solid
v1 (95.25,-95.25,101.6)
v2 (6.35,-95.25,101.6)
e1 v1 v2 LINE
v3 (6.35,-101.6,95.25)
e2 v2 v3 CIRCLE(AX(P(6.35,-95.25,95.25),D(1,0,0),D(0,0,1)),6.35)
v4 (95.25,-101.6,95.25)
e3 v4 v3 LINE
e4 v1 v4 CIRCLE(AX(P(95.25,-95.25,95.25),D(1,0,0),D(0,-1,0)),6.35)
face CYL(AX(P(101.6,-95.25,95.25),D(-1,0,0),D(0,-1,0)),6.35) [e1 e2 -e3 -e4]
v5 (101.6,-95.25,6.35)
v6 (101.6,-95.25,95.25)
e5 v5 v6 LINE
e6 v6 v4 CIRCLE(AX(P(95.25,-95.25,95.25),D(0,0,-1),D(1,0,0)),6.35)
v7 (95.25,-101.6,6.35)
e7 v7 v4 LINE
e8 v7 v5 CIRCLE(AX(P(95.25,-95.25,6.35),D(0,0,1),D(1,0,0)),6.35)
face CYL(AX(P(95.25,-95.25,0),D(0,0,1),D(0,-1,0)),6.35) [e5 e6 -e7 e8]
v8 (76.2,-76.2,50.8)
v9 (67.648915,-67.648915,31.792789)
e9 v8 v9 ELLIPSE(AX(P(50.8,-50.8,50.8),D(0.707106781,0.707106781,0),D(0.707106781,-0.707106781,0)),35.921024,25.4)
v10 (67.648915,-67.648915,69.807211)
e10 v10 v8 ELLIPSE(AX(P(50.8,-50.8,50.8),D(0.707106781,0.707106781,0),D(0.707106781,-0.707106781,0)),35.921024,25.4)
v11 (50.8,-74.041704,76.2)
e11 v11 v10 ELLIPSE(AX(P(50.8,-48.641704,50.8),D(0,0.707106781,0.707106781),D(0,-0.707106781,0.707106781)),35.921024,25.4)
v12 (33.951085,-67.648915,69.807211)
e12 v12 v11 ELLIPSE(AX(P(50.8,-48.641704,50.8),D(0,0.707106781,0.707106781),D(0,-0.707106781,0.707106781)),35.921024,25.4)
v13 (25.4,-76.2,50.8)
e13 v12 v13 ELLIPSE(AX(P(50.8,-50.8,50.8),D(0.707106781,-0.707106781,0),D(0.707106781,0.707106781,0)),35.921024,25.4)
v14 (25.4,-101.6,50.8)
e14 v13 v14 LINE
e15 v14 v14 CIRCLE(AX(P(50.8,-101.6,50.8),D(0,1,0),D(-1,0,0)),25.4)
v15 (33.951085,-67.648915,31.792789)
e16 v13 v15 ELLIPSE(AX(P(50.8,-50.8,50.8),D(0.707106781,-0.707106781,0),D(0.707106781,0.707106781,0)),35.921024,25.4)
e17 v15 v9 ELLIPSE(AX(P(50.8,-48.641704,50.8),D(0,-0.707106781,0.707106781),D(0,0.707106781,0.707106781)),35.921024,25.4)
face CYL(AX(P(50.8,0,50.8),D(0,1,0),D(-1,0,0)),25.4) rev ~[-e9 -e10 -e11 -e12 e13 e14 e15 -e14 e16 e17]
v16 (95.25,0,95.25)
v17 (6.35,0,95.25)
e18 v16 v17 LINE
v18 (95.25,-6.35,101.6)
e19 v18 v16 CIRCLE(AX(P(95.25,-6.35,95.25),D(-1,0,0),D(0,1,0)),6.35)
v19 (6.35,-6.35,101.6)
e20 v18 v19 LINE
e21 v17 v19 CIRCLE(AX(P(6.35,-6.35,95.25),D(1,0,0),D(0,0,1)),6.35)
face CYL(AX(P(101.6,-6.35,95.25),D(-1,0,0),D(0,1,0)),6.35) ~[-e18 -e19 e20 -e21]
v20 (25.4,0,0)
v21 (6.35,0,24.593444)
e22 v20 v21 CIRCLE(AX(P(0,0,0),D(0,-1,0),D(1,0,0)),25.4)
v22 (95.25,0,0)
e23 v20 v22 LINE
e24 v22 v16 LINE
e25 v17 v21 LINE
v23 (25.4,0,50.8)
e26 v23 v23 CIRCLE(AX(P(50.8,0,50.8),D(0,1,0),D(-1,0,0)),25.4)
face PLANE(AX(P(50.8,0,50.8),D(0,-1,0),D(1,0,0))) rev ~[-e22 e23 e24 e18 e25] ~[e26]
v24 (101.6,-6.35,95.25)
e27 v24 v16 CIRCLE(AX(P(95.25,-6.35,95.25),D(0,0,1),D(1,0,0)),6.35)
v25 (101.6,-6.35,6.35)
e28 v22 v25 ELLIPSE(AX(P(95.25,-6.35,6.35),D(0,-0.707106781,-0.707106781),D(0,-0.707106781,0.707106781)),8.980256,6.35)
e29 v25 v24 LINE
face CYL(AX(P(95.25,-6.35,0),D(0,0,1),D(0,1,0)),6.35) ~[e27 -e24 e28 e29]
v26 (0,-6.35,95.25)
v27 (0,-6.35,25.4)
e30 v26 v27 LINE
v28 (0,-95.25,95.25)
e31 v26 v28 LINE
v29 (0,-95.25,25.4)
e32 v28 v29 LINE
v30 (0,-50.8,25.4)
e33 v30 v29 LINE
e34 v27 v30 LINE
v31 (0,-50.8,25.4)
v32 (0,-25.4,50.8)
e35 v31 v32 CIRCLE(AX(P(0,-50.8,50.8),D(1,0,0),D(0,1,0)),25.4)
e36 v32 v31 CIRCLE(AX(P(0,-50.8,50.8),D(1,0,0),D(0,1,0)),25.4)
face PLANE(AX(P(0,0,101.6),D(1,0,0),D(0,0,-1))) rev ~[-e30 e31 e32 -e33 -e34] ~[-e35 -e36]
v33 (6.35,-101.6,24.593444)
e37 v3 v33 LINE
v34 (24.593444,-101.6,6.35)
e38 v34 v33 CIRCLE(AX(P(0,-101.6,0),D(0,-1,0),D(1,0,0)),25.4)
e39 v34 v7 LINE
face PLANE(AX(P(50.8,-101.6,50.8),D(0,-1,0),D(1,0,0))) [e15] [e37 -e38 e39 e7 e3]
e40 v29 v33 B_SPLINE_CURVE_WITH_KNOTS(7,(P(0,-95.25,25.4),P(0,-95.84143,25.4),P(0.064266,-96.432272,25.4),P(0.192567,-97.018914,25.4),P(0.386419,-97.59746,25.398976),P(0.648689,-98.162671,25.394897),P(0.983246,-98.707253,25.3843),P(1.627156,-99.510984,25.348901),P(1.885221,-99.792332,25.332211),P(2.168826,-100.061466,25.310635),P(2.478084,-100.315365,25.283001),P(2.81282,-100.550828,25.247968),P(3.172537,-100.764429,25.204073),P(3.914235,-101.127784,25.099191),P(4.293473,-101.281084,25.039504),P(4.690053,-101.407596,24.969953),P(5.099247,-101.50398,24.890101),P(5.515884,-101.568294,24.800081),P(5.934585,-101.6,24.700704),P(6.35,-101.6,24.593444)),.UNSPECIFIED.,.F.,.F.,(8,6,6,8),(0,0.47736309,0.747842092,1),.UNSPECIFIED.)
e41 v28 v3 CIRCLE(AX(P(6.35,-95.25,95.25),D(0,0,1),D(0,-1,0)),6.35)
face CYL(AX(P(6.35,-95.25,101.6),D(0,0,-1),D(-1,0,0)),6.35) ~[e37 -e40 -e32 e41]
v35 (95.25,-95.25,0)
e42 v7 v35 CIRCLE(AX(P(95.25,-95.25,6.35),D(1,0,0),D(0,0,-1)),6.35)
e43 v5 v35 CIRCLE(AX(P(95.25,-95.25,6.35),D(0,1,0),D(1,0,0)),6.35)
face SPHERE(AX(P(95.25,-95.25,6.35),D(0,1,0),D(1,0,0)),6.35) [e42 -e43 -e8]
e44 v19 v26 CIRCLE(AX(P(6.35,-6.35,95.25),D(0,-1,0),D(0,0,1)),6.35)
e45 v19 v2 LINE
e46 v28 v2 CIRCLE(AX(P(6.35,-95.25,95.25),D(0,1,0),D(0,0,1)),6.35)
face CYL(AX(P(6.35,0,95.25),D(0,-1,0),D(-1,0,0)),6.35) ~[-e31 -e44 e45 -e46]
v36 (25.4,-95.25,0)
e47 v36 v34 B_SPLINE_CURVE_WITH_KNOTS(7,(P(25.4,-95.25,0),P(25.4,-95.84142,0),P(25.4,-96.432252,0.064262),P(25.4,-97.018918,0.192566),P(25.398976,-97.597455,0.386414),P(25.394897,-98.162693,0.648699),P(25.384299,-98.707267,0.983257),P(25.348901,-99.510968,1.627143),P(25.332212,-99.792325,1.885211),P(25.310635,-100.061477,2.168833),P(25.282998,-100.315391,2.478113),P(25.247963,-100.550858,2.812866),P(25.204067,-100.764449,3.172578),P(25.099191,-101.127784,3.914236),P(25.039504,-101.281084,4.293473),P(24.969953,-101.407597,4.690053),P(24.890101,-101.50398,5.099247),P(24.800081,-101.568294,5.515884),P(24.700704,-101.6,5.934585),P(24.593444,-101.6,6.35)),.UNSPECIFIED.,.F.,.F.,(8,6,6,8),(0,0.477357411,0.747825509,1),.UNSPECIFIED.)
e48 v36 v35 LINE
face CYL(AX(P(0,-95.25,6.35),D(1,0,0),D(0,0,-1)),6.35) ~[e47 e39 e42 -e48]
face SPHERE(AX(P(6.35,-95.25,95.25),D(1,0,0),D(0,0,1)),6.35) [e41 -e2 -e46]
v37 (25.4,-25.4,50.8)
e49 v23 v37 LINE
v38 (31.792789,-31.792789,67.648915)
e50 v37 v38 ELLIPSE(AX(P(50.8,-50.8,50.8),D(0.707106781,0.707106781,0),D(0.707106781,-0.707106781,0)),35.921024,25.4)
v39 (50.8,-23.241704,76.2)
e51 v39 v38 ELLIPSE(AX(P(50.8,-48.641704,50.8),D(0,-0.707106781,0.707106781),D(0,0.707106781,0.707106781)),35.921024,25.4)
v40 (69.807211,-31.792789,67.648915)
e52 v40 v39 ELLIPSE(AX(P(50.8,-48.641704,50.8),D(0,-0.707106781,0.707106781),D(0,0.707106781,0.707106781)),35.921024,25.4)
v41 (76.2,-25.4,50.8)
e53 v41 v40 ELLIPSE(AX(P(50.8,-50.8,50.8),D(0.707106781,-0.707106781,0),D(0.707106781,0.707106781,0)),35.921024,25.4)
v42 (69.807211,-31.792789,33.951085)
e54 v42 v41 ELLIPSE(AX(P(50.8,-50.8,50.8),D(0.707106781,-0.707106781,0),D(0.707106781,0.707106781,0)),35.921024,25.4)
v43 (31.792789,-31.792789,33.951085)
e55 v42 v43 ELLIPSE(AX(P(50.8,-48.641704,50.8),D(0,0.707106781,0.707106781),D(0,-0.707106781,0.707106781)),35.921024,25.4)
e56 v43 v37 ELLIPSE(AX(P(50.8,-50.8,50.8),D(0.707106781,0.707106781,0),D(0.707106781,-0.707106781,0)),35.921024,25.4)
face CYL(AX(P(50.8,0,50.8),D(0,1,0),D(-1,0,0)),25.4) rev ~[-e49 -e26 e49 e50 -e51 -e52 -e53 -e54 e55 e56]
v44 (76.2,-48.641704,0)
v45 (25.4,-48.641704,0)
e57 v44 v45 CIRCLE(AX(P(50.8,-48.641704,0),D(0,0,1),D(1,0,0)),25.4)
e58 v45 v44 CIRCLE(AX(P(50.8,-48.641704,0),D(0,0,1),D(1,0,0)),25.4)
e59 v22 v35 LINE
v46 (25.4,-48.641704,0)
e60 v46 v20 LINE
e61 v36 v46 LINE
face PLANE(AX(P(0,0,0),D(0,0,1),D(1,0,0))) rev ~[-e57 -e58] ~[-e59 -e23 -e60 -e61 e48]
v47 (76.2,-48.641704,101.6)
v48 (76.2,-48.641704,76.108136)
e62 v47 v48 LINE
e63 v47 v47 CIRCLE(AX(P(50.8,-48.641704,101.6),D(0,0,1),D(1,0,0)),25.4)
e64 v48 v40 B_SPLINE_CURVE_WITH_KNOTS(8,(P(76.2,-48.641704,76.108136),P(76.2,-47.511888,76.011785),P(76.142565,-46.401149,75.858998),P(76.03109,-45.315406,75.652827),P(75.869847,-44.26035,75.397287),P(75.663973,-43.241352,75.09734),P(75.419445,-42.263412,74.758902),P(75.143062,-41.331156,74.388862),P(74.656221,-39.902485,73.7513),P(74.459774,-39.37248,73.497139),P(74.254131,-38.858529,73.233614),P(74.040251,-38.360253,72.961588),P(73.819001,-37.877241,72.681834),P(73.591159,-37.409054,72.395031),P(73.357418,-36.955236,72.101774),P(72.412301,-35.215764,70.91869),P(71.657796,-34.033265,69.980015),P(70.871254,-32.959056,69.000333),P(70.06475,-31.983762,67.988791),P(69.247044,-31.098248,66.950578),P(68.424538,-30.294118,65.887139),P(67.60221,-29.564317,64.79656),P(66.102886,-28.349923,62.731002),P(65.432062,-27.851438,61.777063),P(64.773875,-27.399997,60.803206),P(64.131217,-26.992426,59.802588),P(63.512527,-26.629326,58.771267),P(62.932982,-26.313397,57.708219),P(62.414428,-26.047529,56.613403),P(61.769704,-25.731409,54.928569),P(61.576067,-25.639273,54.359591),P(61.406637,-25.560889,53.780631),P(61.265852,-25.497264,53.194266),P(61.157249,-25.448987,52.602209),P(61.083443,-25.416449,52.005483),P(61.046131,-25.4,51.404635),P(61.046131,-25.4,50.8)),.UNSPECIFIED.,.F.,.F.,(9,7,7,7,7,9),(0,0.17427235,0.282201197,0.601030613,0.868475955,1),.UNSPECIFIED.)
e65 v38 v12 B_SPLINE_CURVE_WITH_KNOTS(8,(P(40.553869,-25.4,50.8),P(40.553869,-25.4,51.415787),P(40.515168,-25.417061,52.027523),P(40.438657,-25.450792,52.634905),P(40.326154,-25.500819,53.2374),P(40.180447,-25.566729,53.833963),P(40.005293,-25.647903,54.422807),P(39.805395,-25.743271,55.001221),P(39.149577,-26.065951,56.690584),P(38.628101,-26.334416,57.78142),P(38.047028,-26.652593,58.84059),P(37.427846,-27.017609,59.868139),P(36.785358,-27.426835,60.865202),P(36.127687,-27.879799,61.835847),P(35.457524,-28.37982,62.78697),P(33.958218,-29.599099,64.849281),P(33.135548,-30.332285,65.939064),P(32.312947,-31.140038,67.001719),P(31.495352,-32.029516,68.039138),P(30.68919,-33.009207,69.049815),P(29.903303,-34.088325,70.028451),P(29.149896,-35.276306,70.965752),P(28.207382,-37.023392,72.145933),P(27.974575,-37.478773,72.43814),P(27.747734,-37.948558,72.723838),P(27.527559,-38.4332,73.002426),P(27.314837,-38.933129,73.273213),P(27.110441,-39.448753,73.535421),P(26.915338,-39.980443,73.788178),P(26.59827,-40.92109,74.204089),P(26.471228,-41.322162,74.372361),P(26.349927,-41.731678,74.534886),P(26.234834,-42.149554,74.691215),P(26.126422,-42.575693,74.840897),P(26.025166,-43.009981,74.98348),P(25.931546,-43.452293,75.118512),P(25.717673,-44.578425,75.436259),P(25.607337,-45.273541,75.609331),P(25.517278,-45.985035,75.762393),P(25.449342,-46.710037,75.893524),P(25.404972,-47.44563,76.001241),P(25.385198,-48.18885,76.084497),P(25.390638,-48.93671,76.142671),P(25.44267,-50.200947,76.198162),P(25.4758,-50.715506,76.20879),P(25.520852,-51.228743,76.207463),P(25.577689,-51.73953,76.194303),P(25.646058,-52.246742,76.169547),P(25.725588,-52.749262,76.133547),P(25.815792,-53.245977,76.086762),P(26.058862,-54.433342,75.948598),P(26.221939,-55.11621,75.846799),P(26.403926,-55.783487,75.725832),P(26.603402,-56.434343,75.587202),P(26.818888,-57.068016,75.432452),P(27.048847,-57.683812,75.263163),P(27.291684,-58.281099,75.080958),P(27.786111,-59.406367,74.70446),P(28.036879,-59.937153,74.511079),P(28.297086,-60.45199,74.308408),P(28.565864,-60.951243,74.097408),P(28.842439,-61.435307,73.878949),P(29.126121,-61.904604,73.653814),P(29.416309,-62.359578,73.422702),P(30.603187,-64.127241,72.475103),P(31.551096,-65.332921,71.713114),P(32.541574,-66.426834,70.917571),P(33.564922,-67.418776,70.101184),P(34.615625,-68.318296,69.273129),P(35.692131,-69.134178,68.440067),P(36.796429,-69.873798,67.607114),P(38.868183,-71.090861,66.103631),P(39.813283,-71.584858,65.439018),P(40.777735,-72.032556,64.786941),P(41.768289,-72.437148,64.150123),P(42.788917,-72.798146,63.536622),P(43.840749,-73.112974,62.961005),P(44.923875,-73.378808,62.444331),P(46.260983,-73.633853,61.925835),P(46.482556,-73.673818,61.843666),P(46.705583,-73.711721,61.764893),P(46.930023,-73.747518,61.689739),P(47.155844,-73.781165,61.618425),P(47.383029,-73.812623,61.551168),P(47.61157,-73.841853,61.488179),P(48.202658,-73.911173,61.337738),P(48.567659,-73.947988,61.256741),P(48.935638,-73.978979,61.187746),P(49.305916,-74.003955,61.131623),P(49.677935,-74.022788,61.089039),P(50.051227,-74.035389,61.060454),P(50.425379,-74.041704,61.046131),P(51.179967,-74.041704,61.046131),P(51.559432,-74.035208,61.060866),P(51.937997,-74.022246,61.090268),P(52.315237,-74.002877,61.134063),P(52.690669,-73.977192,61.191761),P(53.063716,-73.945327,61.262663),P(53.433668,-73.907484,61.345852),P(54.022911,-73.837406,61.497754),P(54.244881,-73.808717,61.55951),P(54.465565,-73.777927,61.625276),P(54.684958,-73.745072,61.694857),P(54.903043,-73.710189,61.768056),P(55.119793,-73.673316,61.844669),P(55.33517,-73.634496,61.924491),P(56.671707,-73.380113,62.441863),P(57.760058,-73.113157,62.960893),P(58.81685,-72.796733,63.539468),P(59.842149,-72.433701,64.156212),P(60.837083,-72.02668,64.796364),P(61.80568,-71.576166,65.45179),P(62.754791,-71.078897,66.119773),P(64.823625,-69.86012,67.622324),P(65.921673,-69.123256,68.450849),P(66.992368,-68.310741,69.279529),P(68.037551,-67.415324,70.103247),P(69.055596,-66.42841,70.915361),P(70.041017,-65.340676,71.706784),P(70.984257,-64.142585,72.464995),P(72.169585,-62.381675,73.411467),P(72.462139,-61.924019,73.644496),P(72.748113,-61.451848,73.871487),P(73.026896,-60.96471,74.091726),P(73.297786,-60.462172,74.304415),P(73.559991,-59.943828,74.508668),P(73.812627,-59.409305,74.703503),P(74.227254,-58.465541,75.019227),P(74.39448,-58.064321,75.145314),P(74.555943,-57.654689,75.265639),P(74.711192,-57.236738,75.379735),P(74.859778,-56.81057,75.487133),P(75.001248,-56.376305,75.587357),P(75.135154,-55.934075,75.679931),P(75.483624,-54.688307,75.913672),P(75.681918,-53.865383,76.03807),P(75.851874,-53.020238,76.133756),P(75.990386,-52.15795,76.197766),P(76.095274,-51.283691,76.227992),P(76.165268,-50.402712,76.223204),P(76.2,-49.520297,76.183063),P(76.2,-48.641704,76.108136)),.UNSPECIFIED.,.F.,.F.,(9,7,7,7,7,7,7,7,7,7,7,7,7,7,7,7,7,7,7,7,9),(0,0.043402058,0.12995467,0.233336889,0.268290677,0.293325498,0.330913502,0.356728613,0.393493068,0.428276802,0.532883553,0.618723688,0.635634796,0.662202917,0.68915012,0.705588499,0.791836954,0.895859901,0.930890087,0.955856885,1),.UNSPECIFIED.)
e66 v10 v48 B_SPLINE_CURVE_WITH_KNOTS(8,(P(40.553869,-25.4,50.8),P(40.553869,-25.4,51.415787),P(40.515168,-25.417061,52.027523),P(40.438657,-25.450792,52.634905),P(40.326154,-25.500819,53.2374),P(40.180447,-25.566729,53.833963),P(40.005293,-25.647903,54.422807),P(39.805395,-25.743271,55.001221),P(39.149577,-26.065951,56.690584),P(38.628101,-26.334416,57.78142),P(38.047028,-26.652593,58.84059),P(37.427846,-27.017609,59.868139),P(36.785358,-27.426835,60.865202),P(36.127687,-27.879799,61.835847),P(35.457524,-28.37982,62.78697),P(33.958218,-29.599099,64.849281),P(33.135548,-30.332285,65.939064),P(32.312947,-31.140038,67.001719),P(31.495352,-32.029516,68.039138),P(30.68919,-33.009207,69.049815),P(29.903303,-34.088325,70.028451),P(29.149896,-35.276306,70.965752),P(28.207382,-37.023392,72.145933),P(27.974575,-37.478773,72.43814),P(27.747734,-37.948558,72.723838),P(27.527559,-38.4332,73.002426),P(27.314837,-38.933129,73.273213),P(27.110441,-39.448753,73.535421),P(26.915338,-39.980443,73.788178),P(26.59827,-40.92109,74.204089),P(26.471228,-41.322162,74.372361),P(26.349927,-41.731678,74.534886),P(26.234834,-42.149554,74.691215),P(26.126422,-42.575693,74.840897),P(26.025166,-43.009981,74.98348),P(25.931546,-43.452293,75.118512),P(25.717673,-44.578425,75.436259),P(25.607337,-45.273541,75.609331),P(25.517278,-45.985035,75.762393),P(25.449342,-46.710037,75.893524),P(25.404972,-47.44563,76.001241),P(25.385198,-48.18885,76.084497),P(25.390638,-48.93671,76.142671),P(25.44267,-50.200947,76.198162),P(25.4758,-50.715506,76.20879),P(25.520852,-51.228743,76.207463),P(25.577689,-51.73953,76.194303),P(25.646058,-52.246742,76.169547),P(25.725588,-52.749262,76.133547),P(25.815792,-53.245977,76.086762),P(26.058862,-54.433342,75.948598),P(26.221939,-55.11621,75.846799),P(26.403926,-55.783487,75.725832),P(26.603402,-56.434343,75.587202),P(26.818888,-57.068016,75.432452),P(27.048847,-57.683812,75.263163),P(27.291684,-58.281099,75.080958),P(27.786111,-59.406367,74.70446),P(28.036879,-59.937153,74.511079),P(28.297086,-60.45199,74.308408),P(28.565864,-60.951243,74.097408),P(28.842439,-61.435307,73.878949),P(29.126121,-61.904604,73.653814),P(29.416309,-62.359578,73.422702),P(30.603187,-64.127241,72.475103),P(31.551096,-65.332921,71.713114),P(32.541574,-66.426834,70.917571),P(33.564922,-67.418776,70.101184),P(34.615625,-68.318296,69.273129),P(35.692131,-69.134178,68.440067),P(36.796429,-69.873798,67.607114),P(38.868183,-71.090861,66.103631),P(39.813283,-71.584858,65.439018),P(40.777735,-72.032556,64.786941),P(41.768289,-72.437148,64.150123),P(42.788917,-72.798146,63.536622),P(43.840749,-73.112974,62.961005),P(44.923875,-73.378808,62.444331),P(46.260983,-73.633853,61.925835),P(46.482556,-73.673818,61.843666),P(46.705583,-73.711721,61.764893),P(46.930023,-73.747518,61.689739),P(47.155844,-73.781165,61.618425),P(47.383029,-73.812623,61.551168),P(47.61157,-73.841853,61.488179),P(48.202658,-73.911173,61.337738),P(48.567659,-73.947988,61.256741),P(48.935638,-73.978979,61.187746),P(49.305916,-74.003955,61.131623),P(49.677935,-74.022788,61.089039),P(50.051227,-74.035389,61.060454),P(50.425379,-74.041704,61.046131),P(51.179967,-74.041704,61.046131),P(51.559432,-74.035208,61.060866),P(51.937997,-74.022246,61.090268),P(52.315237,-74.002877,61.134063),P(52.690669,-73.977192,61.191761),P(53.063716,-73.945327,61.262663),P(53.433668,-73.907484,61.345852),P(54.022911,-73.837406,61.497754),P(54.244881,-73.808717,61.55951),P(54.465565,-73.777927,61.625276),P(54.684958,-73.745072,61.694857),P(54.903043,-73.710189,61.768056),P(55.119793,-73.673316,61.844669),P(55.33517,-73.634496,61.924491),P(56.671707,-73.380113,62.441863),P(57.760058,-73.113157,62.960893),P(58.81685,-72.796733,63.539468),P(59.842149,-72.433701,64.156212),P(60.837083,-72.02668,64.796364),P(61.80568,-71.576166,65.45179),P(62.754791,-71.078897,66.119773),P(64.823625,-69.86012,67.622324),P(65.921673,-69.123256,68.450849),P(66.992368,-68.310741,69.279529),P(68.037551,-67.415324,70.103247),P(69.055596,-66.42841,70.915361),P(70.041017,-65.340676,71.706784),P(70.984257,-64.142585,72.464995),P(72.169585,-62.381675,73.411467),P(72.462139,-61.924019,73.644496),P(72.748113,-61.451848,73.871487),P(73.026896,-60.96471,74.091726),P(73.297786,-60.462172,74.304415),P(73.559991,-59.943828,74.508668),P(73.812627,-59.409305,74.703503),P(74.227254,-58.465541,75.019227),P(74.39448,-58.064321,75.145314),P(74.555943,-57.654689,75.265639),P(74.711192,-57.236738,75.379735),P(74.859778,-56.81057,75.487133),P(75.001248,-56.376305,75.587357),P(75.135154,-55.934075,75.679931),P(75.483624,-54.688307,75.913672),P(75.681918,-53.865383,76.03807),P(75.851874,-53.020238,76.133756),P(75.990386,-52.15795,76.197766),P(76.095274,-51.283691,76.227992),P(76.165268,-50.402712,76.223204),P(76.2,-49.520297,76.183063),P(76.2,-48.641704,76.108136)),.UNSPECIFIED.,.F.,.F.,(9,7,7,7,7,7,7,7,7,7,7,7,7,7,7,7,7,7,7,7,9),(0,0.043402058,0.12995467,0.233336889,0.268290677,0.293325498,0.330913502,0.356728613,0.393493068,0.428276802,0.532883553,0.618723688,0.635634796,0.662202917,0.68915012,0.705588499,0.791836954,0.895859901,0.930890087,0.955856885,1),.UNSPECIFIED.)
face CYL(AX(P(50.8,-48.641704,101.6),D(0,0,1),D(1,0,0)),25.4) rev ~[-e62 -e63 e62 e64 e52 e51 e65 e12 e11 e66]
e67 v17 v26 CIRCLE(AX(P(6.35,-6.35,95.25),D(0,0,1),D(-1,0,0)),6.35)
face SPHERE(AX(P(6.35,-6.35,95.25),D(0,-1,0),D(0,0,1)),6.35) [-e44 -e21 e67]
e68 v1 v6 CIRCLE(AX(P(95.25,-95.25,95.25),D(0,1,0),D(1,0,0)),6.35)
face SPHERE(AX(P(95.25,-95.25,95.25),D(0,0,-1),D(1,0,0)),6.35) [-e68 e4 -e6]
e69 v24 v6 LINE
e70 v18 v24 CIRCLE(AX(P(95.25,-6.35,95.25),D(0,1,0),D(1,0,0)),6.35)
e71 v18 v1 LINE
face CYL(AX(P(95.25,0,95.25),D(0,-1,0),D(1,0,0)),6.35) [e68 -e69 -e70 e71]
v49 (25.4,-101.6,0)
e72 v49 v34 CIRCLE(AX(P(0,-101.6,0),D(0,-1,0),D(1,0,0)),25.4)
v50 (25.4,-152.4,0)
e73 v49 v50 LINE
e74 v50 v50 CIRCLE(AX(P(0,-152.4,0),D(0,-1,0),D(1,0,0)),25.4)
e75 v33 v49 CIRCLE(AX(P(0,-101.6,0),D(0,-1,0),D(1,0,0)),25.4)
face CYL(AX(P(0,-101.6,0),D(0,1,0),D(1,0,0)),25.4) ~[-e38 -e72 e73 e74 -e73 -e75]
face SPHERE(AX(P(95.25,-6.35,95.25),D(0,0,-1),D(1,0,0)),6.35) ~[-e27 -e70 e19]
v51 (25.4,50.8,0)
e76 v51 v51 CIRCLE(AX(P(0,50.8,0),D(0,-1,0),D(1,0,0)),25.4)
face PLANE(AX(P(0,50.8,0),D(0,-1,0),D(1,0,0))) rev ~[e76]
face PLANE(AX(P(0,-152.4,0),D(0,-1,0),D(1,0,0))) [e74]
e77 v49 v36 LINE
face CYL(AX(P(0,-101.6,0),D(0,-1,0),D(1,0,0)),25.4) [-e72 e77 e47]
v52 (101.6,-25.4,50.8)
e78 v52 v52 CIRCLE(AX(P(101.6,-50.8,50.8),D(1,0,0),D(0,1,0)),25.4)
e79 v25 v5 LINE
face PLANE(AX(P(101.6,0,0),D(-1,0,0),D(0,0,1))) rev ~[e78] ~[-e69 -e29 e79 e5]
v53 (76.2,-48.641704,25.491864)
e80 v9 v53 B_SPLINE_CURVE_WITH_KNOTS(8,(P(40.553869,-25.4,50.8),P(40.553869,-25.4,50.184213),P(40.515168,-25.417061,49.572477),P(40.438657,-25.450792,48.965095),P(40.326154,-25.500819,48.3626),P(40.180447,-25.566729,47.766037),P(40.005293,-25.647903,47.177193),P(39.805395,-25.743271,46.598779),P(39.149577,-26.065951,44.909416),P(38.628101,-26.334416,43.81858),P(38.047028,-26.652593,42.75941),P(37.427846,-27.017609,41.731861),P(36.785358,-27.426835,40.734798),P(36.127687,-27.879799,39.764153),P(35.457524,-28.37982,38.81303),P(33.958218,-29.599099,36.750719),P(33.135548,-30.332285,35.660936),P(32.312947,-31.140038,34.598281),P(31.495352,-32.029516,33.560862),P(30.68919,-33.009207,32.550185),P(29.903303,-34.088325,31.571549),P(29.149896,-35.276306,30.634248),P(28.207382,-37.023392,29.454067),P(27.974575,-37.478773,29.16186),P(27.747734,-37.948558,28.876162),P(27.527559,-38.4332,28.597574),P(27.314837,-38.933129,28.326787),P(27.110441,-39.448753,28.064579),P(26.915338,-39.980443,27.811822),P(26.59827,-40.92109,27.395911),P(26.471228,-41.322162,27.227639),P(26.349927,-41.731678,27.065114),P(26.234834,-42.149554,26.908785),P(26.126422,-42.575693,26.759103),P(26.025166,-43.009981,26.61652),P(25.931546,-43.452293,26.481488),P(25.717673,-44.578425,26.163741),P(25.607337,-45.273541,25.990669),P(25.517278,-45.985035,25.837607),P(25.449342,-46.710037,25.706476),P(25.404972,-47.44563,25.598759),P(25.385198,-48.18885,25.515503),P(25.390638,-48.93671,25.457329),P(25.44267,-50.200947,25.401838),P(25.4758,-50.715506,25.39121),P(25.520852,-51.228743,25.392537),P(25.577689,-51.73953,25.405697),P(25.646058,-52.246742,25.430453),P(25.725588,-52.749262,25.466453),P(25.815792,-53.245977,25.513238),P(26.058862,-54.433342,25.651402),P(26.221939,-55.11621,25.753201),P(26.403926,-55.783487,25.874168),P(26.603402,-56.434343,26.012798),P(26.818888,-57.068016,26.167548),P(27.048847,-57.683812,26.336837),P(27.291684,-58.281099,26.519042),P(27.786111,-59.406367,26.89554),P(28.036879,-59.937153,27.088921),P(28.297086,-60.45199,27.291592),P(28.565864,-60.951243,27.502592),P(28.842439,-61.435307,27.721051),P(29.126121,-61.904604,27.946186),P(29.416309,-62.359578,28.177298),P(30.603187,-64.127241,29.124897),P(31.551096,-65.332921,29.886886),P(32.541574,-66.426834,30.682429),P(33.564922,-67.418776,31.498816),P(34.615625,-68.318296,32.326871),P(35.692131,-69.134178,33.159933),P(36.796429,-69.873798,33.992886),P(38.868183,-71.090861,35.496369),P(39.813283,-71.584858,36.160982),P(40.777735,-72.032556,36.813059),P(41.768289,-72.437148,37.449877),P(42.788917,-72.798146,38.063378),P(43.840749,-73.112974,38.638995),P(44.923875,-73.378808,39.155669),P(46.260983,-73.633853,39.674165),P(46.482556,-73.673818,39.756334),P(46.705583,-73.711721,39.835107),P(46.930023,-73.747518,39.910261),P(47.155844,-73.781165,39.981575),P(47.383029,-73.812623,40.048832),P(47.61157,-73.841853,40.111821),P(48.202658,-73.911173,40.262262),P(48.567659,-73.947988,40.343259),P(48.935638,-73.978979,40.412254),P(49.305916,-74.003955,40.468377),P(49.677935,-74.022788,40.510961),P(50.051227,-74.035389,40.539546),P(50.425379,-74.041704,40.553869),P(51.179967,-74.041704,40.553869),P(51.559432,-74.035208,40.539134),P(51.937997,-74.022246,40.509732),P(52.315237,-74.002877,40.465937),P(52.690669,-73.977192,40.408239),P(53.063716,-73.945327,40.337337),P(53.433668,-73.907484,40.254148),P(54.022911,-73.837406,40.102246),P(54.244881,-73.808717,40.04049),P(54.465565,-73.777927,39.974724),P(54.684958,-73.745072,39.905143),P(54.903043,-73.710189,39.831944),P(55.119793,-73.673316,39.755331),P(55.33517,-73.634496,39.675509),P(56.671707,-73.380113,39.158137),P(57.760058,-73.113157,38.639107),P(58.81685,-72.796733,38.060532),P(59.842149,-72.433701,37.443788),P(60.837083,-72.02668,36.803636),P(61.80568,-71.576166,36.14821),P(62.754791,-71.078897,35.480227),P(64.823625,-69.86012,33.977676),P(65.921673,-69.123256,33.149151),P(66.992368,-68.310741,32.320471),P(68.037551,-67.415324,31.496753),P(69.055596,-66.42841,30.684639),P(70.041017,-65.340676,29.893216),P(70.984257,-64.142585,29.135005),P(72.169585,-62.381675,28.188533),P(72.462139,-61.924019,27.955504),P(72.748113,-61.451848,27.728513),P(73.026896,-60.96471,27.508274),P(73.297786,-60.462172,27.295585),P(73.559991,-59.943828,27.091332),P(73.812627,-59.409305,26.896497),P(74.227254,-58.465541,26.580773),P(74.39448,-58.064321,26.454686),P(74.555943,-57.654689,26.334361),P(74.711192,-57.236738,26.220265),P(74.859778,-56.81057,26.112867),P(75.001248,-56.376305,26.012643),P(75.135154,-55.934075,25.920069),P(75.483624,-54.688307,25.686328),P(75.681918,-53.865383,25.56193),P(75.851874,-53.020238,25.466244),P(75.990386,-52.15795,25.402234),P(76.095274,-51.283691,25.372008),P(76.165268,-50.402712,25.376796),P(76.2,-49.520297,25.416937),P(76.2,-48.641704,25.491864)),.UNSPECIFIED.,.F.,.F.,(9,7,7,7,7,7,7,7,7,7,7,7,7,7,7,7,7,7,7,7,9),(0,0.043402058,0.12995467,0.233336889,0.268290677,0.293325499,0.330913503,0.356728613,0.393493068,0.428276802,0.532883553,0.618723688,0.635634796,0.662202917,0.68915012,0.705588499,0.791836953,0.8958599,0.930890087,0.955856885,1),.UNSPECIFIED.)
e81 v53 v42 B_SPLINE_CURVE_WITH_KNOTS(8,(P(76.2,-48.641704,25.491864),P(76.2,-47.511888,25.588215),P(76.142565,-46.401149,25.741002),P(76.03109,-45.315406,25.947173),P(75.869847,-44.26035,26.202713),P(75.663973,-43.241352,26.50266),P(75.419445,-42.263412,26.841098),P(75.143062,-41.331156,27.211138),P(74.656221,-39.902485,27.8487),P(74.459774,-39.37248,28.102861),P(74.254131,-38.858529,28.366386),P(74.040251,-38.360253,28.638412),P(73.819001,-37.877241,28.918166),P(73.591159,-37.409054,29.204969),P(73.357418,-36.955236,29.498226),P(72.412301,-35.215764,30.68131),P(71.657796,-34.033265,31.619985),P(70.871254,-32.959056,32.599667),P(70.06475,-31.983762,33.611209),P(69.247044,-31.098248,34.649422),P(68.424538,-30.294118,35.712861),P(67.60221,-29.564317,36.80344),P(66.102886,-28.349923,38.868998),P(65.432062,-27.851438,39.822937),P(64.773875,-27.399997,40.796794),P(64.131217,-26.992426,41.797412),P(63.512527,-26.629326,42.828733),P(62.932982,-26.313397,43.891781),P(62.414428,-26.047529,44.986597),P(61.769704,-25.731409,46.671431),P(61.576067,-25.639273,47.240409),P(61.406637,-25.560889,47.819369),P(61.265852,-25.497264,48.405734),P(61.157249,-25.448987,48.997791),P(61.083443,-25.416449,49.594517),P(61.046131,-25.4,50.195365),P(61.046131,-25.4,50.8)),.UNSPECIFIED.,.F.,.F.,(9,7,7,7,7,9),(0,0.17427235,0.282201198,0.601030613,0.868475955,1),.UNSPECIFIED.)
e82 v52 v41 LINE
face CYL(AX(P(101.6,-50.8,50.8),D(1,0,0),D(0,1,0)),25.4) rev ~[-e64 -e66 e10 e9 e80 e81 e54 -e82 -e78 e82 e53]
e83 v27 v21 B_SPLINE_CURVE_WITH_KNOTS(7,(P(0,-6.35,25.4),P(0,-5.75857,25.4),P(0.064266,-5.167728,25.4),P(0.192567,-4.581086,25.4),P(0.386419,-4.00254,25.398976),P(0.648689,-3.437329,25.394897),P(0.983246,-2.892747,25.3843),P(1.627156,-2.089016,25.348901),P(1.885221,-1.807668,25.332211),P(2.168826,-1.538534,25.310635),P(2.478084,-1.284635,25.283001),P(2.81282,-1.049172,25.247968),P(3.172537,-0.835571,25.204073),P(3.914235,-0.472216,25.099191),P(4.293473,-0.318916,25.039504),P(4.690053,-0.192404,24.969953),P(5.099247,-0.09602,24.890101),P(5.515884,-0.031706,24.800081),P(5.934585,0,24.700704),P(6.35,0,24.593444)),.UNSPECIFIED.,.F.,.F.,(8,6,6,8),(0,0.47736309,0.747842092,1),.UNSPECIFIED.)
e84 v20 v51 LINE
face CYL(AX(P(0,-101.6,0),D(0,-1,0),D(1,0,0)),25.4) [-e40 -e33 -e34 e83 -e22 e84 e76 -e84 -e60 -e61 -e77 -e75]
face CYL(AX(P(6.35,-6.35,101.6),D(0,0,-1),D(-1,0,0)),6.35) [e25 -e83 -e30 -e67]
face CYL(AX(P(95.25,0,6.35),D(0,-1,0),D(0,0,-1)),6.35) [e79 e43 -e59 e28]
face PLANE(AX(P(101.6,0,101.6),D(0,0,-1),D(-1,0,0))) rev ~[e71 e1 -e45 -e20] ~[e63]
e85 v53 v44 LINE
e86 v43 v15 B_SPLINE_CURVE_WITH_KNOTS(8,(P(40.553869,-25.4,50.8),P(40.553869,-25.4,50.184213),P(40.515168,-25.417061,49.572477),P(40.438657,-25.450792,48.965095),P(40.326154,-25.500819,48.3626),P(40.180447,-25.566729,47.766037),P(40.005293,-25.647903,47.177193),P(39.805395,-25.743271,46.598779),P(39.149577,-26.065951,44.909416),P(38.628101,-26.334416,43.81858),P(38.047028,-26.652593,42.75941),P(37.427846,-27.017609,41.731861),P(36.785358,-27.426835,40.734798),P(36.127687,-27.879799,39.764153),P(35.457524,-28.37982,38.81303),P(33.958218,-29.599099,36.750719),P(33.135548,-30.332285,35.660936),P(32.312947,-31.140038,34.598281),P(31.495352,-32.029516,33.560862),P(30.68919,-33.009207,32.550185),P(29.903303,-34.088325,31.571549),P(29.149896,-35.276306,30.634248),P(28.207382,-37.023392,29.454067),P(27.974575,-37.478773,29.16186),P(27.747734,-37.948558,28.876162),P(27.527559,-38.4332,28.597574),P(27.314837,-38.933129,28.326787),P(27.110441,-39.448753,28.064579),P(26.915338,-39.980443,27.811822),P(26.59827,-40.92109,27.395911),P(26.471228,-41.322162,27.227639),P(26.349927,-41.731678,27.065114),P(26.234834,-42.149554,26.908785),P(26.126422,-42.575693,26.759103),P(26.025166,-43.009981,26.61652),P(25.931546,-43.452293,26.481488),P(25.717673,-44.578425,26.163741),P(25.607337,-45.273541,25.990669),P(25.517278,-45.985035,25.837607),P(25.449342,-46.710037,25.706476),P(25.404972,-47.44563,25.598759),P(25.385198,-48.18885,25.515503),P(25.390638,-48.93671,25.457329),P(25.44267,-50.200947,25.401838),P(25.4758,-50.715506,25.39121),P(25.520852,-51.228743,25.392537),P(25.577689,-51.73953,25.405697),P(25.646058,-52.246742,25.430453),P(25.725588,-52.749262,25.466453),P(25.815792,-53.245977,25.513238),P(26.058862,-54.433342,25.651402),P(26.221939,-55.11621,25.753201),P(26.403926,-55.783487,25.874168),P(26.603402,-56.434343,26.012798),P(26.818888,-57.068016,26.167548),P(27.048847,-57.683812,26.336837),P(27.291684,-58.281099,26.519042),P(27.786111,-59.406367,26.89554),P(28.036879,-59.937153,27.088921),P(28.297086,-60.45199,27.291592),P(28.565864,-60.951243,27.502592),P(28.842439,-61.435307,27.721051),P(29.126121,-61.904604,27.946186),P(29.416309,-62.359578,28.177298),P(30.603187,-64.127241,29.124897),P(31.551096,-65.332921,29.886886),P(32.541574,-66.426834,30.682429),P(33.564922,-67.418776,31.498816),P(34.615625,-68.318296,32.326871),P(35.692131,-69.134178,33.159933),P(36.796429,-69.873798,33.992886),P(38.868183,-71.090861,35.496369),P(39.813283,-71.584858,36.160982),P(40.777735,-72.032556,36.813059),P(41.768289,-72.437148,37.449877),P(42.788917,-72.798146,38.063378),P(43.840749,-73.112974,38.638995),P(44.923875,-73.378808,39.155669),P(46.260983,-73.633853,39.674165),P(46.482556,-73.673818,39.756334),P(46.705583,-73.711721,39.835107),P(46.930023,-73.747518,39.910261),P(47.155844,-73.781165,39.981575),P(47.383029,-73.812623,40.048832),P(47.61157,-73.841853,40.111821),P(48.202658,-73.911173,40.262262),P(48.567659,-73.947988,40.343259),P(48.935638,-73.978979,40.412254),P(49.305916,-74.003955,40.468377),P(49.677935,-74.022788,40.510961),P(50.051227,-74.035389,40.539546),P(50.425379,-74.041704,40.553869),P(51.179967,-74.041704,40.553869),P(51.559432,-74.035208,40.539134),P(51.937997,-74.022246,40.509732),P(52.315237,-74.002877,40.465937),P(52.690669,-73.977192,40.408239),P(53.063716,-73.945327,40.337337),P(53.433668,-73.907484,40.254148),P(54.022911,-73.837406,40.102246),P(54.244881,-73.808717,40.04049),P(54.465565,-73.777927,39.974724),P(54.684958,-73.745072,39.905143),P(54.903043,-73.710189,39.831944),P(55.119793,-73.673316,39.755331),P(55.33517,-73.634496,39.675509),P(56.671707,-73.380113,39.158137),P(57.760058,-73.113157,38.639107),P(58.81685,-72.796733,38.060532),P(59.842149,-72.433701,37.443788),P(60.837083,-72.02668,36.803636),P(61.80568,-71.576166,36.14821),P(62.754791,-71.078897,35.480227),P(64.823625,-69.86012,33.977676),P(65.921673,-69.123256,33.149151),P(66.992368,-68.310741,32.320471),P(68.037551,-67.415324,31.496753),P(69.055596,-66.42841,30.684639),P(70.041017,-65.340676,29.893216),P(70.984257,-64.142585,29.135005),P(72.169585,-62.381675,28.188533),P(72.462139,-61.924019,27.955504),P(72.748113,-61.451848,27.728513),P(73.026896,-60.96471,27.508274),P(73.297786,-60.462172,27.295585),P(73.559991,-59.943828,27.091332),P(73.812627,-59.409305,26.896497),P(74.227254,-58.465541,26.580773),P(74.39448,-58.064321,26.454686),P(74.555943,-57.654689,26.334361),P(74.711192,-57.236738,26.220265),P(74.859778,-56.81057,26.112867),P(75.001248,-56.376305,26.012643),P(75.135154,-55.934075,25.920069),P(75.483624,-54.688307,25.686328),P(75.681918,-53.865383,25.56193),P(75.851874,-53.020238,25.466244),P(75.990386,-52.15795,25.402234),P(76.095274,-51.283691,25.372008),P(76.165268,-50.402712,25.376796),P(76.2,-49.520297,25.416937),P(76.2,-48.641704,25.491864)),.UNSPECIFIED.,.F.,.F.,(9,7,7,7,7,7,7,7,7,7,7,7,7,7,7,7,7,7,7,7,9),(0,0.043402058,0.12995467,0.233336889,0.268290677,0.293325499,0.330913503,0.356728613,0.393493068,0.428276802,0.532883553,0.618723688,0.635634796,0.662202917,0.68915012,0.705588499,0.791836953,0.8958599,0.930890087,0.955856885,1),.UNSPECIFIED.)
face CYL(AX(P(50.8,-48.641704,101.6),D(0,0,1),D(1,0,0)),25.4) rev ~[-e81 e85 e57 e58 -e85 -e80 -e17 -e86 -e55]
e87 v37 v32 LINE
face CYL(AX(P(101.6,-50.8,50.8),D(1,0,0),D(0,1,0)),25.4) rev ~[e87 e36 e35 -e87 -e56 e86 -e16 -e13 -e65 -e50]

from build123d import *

# Parameters (mm, degrees)
F1_DEPTH       = 101.6
F2_R           = 25.4
F4_DEPTH       = 101.6
F3_R           = 25.4
F5_DEPTH       = 101.6
F6_R           = 25.4
F7_DEPTH       = 101.6
F8_R           = 6.35
F10_R          = 25.4
F11_DEPTH      = 50.8
F11_DEPTH_BACK = 152.4


with BuildPart() as f1:
    # F0 (on Front) → F1 (new body)
    with BuildSketch(Plane.XZ):
        Polygon((0, 3.0090576449), (0, 0), (101.6, 0), (101.6, 101.6), (0, 101.6), align=None)
    extrude(amount=F1_DEPTH)

    # F2 (on face) → F4 (cut)
    with BuildSketch(Plane.XY.offset(101.6)):
        with Locations((50.8, -48.6417040229)):
            Circle(F2_R)
    extrude(amount=-F4_DEPTH, mode=Mode.SUBTRACT)

    # F3 (on face) → F5 (cut)
    with BuildSketch(Plane.YZ.offset(101.6)):
        with Locations((-50.8, 50.8)):
            Circle(F3_R)
    extrude(amount=-F5_DEPTH, mode=Mode.SUBTRACT)

    # F6 (on face) → F7 (cut)
    with BuildSketch(Plane(origin=(0, 0, 0), x_dir=(-1, 0, 0), z_dir=(0, 1, 0))):
        with Locations((-50.8, 50.8)):
            Circle(F6_R)
    extrude(amount=-F7_DEPTH, mode=Mode.SUBTRACT)

    # F8
    f8_edges = [f1.edges().sort_by_distance(p)[0] for p in [
        (101.6, -50.8, 0),
        (101.6, -101.6, 50.8),
        (101.6, 0, 50.8),
        (101.6, -50.8, 101.6),
        (50.8, -101.6, 101.6),
        (0, -50.8, 101.6),
        (50.8, 0, 101.6),
        (50.8, -101.6, 0),
        (0, -101.6, 50.8),
        (0, -50.8, 0),
        (0, 0, 50.8),
    ]]
    fillet(f8_edges, radius=F8_R)

    # F10 (on offset) → F11 (join, two sides)
    with BuildSketch(Plane.XZ.offset(101.6)) as f11_sk:
        Circle(F10_R)
    extrude(amount=F11_DEPTH)
    extrude(f11_sk.sketch, amount=-F11_DEPTH_BACK)


solid = f1.part
